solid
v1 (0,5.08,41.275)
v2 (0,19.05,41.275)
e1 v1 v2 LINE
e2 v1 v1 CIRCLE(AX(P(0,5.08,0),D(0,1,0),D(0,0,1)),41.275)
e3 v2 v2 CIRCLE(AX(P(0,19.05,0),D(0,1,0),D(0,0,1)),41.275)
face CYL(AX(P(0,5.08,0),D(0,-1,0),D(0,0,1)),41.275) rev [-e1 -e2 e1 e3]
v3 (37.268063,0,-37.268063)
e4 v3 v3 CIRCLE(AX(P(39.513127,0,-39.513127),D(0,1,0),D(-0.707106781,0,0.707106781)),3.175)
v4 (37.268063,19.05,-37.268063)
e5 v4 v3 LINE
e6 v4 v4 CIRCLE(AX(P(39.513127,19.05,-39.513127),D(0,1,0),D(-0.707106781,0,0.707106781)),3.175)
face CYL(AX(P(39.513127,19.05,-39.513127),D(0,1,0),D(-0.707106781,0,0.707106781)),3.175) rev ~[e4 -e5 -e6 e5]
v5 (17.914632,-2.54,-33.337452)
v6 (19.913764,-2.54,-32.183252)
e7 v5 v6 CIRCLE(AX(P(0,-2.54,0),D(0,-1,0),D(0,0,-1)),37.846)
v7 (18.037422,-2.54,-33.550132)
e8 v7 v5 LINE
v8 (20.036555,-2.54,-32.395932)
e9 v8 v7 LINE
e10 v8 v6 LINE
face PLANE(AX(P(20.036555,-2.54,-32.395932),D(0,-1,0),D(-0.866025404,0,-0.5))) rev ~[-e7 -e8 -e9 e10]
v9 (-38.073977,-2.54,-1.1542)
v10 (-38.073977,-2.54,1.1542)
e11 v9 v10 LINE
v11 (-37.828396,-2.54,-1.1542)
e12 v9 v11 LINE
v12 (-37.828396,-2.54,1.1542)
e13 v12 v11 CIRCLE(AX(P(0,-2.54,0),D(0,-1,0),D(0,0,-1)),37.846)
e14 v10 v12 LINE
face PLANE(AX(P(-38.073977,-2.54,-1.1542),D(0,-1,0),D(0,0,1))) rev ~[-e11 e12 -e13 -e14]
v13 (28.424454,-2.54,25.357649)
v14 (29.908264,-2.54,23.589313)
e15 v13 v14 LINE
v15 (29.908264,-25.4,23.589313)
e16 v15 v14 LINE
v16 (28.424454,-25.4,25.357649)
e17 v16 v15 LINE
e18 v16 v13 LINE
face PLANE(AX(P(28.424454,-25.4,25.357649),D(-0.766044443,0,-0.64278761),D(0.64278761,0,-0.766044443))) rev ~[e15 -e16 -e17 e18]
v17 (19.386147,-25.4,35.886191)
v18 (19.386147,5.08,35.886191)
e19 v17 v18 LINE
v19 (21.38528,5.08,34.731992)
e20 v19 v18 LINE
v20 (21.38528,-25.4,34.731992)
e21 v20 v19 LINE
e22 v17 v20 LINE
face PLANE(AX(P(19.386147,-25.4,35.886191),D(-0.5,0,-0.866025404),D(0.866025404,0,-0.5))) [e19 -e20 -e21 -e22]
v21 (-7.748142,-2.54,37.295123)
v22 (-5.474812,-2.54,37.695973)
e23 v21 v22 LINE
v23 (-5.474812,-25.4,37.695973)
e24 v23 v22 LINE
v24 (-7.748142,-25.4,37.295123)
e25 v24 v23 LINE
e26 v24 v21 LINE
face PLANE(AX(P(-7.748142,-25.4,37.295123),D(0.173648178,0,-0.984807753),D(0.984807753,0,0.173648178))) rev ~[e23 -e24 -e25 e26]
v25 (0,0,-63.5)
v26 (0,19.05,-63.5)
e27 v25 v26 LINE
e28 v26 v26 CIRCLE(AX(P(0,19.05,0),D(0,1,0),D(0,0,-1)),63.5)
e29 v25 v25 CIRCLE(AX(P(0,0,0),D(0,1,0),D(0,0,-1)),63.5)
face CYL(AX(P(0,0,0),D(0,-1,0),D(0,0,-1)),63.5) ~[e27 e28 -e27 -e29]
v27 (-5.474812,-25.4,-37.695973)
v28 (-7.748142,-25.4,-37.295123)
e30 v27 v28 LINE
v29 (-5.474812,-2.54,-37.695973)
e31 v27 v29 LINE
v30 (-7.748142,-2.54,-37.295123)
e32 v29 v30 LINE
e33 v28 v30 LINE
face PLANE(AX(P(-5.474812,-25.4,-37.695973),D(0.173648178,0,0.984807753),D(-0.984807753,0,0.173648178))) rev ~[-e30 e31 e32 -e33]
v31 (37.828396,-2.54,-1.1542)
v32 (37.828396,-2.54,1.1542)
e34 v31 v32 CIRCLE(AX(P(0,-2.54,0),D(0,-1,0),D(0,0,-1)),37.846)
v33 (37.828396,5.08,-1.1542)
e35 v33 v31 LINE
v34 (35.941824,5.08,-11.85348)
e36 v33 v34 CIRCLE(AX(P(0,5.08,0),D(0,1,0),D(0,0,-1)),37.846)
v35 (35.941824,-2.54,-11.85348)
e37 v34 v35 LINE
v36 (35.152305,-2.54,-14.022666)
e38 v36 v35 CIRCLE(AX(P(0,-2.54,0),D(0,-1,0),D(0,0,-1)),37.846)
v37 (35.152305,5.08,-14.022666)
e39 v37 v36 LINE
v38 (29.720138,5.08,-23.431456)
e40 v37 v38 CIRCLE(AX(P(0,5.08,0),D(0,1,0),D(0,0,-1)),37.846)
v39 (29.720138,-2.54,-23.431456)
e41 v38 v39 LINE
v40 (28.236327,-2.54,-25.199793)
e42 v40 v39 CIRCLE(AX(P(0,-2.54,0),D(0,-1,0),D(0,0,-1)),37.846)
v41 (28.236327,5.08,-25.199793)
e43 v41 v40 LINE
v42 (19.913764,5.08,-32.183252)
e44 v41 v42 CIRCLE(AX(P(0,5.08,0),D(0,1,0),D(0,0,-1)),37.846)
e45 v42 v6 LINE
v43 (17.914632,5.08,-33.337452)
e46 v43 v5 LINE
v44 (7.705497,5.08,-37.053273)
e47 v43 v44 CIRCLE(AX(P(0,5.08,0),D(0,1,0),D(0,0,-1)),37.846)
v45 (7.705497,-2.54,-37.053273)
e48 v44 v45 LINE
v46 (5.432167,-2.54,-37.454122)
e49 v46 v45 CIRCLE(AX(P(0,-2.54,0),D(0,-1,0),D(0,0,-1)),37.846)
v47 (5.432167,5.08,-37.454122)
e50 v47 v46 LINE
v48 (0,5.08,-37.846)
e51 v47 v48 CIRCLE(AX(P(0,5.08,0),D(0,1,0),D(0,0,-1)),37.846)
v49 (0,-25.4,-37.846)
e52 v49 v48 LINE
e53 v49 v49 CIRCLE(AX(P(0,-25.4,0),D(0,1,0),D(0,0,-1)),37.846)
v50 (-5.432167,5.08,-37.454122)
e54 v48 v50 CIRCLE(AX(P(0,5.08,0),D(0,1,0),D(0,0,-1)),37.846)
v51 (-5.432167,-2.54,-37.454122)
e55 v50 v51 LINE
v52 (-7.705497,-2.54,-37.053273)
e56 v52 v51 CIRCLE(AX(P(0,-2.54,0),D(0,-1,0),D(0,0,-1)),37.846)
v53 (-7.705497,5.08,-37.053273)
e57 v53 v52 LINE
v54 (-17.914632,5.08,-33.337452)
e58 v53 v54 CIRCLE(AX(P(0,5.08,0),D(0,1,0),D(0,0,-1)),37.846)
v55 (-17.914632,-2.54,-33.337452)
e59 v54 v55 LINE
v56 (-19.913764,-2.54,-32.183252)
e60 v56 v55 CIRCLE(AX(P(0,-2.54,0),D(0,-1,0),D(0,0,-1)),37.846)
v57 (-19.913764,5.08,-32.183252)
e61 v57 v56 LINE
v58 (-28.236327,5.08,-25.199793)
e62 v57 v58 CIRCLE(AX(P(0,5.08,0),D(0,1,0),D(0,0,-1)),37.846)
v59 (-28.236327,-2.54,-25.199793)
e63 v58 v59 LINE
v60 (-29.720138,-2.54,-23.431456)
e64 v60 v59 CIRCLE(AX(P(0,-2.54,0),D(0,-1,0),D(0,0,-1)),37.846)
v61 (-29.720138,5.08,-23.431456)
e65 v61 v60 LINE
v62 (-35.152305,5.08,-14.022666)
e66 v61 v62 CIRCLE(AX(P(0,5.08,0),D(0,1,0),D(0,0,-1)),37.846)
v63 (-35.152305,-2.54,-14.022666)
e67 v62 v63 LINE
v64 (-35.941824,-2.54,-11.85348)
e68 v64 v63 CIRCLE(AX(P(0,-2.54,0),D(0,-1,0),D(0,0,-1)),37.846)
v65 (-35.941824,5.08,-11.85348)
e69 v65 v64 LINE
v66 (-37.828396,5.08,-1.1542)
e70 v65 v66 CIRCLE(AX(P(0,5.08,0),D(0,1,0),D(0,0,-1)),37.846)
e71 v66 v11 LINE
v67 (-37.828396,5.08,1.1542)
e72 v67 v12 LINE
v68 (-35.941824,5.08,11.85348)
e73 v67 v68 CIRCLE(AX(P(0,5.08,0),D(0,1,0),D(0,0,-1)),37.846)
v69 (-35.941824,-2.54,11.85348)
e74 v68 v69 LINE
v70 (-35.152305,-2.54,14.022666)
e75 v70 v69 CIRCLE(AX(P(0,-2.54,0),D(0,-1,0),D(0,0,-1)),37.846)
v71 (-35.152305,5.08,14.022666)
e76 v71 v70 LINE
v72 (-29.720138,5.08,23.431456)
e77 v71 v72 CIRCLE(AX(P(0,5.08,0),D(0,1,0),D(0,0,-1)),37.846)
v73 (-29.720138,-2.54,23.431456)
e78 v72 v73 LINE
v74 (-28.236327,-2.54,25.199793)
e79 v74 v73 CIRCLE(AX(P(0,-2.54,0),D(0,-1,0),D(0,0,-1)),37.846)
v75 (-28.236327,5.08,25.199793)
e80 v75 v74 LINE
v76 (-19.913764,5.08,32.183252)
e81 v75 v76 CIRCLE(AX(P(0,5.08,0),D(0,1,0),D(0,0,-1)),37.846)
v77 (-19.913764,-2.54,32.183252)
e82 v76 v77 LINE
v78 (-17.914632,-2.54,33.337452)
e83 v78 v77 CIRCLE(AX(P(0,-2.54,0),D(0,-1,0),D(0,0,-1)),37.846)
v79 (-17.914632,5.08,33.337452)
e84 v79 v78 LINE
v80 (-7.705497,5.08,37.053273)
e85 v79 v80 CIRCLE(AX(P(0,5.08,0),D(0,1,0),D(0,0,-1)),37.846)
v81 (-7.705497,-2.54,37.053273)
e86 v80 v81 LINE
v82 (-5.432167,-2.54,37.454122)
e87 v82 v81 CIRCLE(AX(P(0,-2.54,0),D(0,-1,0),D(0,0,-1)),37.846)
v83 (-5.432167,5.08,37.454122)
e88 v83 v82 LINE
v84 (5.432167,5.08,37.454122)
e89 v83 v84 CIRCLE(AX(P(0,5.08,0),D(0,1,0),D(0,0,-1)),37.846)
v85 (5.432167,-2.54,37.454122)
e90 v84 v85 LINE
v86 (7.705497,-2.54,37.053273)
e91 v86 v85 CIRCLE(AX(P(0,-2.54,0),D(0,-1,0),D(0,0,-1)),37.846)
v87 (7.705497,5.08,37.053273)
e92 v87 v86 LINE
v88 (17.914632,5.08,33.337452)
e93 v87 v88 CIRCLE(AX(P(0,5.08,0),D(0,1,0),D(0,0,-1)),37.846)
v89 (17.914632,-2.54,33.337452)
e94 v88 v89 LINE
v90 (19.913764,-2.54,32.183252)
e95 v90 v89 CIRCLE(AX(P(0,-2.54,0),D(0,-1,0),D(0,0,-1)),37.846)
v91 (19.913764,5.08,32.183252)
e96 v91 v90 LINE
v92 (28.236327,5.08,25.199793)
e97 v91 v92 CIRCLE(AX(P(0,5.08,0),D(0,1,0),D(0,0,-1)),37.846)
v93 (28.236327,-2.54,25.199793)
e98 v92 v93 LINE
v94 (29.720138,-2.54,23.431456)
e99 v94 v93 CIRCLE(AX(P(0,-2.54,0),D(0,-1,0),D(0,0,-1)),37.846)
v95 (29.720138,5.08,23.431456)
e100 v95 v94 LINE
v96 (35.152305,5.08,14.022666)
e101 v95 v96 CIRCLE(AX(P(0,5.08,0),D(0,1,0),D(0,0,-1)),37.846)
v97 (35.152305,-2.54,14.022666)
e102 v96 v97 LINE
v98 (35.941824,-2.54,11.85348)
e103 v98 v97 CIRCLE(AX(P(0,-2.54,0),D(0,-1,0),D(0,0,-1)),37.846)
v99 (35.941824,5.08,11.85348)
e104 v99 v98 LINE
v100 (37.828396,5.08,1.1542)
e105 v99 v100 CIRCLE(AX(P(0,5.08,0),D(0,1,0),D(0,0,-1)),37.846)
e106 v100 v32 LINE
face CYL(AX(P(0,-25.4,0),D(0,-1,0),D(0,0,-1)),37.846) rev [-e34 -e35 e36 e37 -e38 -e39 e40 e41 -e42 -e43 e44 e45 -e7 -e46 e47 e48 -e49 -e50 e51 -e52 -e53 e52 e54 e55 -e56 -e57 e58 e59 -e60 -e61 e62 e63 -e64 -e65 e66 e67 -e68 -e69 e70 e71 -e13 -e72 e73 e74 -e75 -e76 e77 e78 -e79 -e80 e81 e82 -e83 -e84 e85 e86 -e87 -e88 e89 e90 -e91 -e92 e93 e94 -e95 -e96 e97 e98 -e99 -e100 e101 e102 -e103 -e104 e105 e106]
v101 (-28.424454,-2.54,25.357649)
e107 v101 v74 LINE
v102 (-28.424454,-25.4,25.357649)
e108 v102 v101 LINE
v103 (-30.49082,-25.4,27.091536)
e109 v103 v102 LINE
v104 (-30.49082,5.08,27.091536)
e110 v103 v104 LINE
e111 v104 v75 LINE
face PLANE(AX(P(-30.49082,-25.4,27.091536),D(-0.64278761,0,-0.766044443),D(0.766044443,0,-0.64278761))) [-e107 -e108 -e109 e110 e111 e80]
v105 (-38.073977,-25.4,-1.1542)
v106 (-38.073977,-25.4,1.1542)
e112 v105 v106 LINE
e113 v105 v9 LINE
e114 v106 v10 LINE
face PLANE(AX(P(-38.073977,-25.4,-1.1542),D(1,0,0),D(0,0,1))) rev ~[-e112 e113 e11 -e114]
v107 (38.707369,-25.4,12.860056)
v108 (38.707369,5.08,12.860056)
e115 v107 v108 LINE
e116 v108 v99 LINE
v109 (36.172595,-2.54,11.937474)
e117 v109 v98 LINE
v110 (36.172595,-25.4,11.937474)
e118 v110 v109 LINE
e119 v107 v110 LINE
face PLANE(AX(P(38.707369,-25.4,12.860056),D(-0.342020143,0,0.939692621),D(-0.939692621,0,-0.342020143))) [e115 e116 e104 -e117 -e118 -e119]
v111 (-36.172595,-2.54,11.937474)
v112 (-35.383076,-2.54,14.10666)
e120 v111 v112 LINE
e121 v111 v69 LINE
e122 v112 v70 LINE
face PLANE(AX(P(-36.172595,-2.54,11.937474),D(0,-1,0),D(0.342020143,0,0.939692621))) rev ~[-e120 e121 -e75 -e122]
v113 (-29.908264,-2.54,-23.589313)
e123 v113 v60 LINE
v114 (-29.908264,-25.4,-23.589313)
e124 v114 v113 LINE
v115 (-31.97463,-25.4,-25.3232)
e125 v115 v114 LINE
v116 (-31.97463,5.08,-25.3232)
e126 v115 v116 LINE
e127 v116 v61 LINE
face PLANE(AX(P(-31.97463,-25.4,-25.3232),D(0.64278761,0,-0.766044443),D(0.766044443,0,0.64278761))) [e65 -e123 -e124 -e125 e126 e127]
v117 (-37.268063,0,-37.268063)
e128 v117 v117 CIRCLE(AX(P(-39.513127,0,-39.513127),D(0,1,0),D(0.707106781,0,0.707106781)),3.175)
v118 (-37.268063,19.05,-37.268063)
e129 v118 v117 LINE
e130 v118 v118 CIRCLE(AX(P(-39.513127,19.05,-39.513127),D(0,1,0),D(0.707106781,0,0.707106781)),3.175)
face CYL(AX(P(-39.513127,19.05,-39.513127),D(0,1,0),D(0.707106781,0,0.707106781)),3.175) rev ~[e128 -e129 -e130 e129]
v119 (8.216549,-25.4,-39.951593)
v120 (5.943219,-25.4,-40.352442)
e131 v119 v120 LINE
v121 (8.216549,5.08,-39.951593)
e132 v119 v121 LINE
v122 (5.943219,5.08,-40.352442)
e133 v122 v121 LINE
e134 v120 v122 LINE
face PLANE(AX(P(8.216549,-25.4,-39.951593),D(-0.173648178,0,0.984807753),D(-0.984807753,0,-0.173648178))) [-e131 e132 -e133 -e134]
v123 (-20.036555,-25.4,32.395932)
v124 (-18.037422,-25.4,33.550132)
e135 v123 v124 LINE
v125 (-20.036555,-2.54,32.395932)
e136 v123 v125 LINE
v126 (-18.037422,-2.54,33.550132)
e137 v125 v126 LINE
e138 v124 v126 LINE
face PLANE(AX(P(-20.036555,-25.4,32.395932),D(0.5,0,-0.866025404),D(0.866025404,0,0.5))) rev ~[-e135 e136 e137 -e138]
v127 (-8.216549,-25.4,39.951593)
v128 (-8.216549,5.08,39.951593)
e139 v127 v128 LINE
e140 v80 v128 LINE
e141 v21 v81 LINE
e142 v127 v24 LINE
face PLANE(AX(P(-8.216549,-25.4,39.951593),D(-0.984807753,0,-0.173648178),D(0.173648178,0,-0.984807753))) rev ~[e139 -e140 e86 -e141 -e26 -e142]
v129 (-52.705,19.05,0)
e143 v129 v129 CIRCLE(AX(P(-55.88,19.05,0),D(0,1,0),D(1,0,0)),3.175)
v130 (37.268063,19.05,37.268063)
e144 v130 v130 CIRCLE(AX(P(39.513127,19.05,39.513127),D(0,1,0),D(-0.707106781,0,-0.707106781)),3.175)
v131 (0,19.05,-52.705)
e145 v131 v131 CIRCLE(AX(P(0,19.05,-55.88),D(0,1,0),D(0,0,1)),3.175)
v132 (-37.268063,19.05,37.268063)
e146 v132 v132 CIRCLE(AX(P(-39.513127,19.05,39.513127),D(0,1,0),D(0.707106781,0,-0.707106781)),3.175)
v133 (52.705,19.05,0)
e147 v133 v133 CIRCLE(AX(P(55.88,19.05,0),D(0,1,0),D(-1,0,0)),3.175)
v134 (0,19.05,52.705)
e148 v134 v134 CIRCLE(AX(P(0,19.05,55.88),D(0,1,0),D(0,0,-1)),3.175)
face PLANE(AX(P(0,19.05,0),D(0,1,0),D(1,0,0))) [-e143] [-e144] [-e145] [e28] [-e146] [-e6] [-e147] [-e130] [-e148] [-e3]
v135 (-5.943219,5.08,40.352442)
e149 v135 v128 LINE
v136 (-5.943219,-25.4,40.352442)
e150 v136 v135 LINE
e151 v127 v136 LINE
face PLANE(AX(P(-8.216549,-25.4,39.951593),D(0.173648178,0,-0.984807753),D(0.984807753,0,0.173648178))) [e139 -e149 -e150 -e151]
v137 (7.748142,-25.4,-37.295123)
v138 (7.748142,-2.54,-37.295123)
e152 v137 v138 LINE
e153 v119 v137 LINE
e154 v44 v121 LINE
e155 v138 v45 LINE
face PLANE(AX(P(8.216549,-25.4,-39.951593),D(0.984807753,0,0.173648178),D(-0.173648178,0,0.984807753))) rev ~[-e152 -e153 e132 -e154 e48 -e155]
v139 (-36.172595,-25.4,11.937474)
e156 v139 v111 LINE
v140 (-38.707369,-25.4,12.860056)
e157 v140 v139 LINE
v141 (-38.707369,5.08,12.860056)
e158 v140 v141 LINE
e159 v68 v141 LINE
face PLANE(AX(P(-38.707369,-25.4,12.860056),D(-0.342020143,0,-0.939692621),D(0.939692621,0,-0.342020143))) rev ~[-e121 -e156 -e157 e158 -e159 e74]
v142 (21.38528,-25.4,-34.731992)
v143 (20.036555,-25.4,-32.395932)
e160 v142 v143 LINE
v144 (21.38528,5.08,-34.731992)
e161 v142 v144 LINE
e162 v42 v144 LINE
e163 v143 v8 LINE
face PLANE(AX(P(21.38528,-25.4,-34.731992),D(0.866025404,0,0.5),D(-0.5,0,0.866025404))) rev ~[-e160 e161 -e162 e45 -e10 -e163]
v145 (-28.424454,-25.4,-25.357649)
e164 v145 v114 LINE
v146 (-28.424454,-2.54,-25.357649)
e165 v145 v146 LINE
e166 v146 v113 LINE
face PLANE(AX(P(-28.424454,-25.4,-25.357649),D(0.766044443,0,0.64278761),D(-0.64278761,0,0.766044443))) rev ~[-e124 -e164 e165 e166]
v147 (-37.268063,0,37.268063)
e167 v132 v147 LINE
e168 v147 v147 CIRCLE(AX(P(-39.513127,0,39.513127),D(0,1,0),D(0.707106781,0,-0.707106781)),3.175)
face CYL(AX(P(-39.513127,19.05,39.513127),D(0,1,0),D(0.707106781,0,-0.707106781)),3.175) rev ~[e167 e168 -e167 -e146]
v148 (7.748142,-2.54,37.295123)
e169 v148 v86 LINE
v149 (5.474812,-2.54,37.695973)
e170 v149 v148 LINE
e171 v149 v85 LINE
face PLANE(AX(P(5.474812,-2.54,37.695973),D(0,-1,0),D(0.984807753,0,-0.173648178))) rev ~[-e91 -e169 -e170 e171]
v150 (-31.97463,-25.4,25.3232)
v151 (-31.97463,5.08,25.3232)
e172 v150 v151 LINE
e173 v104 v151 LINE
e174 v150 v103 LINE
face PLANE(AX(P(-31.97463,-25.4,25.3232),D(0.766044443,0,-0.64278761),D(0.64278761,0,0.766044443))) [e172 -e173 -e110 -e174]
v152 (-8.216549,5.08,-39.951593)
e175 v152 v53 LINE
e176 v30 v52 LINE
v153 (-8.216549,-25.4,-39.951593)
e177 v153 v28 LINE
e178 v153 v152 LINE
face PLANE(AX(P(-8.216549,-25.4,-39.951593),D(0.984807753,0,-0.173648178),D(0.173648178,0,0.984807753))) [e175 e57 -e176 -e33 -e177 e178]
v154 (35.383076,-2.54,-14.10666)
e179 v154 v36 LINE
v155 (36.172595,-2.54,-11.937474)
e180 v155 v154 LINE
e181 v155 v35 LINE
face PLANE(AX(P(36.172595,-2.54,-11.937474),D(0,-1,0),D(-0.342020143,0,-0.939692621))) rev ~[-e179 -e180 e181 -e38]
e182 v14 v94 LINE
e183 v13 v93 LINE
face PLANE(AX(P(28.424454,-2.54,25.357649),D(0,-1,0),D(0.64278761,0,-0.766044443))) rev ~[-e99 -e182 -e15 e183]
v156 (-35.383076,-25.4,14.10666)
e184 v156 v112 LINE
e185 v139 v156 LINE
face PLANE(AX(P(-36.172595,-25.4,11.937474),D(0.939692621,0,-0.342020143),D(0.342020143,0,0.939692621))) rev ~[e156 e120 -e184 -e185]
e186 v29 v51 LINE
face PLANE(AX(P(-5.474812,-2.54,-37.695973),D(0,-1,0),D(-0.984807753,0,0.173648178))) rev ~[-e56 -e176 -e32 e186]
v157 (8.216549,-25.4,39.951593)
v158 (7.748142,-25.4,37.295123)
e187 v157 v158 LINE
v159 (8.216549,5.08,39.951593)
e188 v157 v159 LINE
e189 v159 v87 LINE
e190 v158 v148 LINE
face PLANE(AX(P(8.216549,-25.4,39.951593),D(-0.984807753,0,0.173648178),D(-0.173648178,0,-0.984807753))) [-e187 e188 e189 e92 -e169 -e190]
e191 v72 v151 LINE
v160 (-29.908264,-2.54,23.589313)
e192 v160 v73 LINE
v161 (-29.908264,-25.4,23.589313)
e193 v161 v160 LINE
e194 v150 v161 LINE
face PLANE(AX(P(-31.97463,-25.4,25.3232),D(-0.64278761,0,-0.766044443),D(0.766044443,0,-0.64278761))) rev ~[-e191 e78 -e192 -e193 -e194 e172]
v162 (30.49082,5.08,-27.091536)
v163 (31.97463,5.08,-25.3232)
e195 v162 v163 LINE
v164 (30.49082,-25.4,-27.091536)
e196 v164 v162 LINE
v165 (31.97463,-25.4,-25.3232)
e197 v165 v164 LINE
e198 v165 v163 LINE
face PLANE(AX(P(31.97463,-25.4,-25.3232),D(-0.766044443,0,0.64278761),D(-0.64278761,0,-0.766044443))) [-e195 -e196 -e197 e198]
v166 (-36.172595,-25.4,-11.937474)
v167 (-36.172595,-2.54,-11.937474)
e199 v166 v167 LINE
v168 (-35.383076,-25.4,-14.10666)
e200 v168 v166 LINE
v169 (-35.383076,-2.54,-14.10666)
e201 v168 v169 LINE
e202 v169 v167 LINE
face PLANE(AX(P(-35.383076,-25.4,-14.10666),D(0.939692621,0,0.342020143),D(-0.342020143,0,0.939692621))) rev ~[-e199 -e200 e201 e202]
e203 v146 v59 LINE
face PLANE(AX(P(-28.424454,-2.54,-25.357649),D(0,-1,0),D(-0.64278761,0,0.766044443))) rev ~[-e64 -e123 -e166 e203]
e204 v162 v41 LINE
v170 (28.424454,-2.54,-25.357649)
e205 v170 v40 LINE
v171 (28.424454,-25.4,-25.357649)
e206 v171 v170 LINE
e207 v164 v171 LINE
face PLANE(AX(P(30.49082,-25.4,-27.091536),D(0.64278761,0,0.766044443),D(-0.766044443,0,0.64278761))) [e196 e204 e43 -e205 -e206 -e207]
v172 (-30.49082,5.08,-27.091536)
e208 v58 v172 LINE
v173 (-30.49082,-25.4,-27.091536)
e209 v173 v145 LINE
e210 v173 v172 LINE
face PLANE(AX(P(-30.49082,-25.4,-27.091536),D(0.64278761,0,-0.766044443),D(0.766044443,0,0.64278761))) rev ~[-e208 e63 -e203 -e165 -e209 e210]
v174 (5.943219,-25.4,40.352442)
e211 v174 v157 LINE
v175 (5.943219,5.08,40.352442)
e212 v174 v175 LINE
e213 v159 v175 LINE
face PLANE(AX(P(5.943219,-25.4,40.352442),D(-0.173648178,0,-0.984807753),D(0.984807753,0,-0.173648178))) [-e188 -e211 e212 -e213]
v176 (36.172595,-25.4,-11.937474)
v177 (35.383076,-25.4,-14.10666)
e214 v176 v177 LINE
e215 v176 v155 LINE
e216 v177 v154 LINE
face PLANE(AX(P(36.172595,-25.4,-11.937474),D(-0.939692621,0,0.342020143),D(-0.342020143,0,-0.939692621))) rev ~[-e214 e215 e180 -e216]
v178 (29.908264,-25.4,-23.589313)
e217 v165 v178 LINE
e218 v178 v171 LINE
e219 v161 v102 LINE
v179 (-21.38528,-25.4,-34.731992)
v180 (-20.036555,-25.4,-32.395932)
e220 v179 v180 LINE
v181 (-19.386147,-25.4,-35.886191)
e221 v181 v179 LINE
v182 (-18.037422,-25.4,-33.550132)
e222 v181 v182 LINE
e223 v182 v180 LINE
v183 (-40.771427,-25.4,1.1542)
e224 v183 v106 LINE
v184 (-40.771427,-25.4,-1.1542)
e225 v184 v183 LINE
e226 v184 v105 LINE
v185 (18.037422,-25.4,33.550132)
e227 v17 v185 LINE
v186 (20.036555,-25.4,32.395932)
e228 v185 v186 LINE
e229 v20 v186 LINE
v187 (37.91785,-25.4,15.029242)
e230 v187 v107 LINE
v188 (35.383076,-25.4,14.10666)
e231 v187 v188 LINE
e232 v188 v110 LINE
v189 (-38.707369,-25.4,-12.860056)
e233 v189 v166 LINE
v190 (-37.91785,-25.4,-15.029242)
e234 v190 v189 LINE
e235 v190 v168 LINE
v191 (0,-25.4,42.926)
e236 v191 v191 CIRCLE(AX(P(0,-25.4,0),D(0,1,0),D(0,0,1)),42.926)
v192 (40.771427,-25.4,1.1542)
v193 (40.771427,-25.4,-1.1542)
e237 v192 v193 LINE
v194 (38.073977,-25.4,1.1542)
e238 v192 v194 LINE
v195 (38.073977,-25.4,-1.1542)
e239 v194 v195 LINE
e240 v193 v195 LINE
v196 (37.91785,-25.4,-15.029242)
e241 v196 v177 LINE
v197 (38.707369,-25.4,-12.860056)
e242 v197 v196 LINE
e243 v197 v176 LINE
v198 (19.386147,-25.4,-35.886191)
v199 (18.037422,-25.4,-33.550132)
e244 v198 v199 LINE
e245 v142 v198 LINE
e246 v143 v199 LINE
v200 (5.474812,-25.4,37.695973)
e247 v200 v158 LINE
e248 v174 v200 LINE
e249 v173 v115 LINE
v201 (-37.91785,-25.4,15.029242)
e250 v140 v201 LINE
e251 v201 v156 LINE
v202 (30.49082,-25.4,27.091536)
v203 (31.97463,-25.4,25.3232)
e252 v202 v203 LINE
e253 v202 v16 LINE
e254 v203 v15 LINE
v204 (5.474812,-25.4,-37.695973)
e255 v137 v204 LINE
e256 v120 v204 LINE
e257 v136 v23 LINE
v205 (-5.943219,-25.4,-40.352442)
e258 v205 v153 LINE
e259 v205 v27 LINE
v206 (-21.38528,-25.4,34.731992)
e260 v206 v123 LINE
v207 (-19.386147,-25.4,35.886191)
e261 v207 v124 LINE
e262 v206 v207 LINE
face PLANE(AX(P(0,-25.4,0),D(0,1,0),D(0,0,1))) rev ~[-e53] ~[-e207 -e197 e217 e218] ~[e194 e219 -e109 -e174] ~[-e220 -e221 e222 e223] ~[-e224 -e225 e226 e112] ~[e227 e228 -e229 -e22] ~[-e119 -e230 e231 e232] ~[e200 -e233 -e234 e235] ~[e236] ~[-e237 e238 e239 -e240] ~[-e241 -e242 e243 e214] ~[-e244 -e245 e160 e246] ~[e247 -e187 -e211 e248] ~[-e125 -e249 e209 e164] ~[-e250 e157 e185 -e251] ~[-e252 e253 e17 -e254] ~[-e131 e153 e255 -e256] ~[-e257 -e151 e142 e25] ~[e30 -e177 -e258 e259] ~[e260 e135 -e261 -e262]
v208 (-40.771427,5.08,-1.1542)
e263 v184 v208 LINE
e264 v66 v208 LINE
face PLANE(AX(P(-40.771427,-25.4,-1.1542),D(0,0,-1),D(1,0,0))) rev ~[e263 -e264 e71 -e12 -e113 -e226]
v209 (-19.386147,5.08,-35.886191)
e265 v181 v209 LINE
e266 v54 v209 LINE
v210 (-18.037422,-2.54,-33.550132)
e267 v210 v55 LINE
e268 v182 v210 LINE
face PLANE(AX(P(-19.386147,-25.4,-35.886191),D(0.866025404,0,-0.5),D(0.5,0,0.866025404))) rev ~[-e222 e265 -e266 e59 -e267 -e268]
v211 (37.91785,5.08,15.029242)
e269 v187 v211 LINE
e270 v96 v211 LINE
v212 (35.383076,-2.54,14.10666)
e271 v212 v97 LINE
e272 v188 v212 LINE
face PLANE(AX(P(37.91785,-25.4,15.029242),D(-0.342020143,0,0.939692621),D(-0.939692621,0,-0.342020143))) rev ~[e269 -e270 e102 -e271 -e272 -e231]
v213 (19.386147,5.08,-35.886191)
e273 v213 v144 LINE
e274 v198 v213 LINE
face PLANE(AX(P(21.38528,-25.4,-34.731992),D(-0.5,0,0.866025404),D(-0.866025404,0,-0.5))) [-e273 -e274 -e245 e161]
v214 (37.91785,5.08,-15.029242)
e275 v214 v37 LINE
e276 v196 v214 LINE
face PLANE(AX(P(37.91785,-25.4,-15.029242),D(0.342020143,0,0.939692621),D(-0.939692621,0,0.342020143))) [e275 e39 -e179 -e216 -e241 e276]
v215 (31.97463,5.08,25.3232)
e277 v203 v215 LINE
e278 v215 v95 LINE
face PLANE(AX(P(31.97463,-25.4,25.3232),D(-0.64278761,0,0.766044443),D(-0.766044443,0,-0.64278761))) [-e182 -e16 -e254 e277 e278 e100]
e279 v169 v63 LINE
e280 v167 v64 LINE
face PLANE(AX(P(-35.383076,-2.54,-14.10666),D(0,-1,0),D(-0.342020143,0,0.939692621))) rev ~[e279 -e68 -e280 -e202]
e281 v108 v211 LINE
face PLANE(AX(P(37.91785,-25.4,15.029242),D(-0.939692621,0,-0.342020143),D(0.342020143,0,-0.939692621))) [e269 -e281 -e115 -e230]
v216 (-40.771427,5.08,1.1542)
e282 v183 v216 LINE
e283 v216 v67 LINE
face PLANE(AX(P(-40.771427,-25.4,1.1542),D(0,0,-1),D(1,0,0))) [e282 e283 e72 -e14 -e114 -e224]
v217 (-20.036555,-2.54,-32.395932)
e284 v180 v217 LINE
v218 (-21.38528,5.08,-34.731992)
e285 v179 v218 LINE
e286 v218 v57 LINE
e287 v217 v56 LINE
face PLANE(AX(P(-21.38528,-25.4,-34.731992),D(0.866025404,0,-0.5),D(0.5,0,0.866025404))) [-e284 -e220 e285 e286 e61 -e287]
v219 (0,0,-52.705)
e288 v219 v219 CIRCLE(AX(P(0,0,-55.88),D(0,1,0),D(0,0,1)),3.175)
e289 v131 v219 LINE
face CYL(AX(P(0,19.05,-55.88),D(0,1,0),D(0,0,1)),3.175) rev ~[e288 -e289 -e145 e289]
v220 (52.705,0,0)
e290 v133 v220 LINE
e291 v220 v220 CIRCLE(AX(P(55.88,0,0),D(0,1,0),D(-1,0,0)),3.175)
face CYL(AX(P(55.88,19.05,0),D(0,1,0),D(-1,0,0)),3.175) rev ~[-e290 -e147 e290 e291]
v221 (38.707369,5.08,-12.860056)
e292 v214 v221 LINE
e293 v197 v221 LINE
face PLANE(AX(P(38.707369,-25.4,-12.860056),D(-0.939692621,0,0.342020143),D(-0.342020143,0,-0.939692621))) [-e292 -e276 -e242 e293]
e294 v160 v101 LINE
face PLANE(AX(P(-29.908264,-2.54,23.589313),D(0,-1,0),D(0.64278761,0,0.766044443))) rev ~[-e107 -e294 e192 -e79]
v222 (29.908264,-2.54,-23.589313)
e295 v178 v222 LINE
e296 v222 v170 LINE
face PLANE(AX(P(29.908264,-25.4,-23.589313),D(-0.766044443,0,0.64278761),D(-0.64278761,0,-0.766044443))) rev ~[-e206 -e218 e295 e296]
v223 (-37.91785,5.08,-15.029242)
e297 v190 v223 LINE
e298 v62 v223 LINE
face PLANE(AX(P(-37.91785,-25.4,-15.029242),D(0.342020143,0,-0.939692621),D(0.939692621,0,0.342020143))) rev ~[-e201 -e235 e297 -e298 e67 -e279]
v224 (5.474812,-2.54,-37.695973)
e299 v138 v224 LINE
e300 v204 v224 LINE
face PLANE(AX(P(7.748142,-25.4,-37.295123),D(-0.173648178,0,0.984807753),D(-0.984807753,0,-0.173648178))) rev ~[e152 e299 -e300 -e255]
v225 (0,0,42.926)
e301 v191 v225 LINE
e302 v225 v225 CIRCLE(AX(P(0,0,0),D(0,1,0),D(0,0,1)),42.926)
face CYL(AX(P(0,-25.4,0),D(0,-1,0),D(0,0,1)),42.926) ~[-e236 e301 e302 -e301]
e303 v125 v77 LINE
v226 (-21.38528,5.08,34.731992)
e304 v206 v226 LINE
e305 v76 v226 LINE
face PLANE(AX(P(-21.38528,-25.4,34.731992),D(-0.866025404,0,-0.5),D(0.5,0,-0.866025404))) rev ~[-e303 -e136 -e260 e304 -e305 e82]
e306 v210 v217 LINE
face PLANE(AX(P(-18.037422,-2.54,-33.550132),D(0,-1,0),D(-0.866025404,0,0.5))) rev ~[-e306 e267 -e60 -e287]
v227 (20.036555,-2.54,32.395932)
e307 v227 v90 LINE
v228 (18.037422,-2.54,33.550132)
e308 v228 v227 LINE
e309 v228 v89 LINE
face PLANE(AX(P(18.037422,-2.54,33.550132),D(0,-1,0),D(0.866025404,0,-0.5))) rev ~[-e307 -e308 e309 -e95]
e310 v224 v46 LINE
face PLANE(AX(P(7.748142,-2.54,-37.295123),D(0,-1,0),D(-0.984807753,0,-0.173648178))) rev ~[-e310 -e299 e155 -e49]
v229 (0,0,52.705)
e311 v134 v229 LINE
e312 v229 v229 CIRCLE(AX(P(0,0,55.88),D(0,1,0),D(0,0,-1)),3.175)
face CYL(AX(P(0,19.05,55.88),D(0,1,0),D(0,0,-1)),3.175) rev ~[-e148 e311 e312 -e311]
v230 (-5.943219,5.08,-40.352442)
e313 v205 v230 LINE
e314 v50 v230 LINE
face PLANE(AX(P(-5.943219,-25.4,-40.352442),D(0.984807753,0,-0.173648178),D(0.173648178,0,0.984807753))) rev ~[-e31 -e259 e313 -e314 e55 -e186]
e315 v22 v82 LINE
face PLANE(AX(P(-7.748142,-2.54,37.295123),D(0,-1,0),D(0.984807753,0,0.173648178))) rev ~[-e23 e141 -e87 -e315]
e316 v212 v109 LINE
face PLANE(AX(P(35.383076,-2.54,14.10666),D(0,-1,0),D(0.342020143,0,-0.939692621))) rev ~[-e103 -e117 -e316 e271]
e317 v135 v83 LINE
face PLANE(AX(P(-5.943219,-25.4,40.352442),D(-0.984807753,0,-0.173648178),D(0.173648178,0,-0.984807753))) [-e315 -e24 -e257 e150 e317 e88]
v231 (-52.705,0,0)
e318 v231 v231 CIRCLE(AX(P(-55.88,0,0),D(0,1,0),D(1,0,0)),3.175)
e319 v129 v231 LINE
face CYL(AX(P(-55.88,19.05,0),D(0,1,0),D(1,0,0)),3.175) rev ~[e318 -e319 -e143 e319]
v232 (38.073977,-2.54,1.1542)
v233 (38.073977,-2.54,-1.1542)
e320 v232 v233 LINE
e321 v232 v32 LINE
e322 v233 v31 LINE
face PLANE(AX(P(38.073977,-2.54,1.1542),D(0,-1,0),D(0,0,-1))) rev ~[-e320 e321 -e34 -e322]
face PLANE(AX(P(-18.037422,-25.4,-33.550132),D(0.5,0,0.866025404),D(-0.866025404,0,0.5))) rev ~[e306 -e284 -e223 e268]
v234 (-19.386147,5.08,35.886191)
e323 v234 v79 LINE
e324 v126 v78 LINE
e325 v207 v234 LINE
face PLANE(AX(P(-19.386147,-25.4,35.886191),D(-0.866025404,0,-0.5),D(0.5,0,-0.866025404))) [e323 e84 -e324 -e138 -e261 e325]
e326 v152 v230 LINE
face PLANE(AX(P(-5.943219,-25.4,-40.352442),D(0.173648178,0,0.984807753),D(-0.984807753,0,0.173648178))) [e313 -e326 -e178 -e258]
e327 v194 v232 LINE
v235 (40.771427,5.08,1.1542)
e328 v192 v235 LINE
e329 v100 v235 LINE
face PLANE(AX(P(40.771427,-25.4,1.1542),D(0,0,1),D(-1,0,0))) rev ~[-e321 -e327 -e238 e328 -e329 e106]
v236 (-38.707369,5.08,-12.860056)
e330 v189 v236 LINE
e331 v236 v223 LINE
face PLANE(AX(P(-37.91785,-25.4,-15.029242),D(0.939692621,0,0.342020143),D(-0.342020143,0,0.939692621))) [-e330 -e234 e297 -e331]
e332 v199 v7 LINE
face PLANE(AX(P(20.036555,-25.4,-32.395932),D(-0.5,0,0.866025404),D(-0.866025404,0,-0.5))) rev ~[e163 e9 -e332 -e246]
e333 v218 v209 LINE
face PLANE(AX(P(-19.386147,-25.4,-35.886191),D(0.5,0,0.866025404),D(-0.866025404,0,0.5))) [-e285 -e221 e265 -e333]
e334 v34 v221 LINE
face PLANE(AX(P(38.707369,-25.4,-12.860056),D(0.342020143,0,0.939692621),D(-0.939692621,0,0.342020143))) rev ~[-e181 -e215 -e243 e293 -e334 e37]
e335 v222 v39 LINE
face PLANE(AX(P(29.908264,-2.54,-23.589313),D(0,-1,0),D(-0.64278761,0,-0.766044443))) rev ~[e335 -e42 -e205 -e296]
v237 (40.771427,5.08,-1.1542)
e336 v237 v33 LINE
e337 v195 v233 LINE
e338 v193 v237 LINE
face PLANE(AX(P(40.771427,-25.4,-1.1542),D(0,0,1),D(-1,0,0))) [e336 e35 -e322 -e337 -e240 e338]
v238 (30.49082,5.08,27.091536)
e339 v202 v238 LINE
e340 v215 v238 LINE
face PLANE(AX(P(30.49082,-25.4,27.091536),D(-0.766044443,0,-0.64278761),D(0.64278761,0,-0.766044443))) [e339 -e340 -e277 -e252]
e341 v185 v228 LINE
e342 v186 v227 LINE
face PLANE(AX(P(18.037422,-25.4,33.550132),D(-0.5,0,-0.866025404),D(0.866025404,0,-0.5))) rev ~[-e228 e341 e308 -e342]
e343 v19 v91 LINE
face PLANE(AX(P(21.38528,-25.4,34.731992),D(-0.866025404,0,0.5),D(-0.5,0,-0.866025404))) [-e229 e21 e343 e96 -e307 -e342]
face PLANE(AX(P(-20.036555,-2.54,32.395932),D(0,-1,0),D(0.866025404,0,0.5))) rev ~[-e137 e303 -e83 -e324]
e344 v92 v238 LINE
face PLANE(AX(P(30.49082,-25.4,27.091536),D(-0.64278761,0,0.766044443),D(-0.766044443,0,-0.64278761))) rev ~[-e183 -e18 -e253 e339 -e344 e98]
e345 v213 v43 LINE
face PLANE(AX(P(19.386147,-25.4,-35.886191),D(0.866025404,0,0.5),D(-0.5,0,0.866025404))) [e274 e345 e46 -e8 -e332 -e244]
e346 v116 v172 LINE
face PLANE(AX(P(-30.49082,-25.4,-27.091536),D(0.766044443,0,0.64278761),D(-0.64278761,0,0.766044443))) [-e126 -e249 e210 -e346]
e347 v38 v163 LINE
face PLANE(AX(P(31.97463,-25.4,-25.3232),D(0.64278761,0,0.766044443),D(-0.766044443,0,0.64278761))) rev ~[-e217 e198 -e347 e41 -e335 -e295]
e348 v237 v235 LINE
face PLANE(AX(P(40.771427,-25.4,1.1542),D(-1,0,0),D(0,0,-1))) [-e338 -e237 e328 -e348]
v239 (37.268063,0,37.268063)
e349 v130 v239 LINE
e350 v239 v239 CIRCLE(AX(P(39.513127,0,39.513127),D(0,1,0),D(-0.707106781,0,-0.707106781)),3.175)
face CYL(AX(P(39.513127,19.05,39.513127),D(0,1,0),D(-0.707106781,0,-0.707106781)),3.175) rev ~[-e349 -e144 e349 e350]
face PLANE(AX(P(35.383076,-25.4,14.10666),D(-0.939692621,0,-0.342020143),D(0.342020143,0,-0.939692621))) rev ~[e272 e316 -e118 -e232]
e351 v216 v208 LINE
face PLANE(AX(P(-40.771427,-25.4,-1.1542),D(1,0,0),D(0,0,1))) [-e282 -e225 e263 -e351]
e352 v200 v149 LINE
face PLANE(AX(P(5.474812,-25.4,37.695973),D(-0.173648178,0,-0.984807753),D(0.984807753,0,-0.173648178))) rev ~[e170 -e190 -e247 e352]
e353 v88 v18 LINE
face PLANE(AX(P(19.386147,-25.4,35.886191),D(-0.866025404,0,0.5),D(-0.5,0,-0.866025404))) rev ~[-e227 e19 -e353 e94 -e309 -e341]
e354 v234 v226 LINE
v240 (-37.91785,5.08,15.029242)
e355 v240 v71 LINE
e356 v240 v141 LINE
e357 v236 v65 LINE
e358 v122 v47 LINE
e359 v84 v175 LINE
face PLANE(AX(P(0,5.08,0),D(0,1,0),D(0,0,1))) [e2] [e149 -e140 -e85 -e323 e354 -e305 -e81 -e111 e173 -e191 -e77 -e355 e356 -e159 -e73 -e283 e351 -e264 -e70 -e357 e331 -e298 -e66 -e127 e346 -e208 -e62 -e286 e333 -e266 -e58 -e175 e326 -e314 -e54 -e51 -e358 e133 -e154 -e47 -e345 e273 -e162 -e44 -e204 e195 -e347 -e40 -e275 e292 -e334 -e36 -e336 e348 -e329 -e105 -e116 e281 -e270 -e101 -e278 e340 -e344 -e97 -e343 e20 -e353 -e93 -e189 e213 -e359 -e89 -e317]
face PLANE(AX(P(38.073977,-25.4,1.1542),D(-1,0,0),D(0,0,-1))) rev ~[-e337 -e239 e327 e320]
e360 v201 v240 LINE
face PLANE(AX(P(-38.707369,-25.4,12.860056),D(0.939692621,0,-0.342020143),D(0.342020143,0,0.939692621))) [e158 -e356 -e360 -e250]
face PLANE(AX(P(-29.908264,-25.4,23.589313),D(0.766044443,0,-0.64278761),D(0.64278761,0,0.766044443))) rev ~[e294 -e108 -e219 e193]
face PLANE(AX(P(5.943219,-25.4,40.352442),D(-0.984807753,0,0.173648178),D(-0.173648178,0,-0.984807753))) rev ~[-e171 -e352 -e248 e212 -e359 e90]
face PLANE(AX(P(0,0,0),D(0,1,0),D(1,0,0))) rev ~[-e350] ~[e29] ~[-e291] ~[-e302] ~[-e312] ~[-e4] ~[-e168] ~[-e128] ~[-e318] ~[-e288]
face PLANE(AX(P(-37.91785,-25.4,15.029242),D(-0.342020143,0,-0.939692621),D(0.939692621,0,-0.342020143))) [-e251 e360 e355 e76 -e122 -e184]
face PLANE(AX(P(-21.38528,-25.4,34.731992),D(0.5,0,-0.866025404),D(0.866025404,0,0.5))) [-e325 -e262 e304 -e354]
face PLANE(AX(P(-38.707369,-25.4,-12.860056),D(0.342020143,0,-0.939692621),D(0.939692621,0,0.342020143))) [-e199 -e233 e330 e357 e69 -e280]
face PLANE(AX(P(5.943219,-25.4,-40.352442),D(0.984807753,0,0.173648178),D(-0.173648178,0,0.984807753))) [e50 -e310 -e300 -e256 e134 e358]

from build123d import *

# Parameters (mm, degrees)
SKETCH1_R           = 63.5
SKETCH1_R_2         = 37.846
BOSS_EXTRUDE1_DEPTH = 19.05
SKETCH2_R           = 3.175
CUT_EXTRUDE1_DEPTH  = 92.800885072
CIRPATTERN1_COUNT   = 8
BOSS_EXTRUDE2_START = -25.4
SKETCH1_3_R         = 42.926
SKETCH1_3_R_2       = 37.846
BOSS_EXTRUDE2_DEPTH = 25.4
CUT_EXTRUDE2_START  = -13.97
SKETCH3_R           = 41.275
SKETCH3_R_2         = 37.846
CUT_EXTRUDE2_DEPTH  = 13.97
SKETCH4_W           = 2.697449546
SKETCH4_H           = 2.30839954
CUT_EXTRUDE3_DEPTH  = 101.201309872
SKETCH5_W           = 2.30839954
SKETCH5_H           = 7.62
CUT_EXTRUDE4_DEPTH  = 2.54
CIRPATTERN2_COUNT   = 18


with BuildPart() as part:
    # Sketch1 → Boss-Extrude1 (new body)
    with BuildSketch(Plane(origin=(0, 0, 0), x_dir=(1, 0, 0), z_dir=(0, 1, 0))):
        Circle(SKETCH1_R)
        Circle(SKETCH1_R_2, mode=Mode.SUBTRACT)
    extrude(amount=BOSS_EXTRUDE1_DEPTH)

    # Sketch2 → Cut-Extrude1 (cut, through all)
    with BuildSketch(Plane(origin=(0, 19.05, 0), x_dir=(1, 0, 0), z_dir=(0, 1, 0))):
        with Locations((0, 55.88)):
            Circle(SKETCH2_R)
    cut_extrude1 = extrude(amount=-CUT_EXTRUDE1_DEPTH, mode=Mode.SUBTRACT)

    # CirPattern1: Cut-Extrude1 ×8 about axis
    cirpattern1_axis = Axis((0, 19.05, 0), (0, -1, 0))
    for i in range(1, CIRPATTERN1_COUNT):
        add(cut_extrude1.rotate(cirpattern1_axis, i * 360 / CIRPATTERN1_COUNT), mode=Mode.SUBTRACT)

    # Sketch1<3> → Boss-Extrude2 (add)
    with BuildSketch(Plane(origin=(0, 0, 0), x_dir=(1, 0, 0), z_dir=(0, 1, 0)).offset(BOSS_EXTRUDE2_START)):
        Circle(SKETCH1_3_R)
        Circle(SKETCH1_3_R_2, mode=Mode.SUBTRACT)
    extrude(amount=BOSS_EXTRUDE2_DEPTH)

    # Sketch3 → Cut-Extrude2 (cut)
    with BuildSketch(Plane(origin=(0, 19.05, 0), x_dir=(1, 0, 0), z_dir=(0, 1, 0)).offset(CUT_EXTRUDE2_START)):
        Circle(SKETCH3_R)
        Circle(SKETCH3_R_2, mode=Mode.SUBTRACT)
    extrude(amount=CUT_EXTRUDE2_DEPTH, mode=Mode.SUBTRACT)

    # Sketch4 → Cut-Extrude3 (cut, through all)
    with BuildSketch(Plane.XZ.offset(25.4)):
        with Locations((-39.422702208, 0)):
            Rectangle(SKETCH4_W, SKETCH4_H)
    cut_extrude3 = extrude(amount=-CUT_EXTRUDE3_DEPTH, mode=Mode.SUBTRACT)

    # Sketch5 → Cut-Extrude4 (cut)
    with BuildSketch(Plane.ZY.offset(38.073977435)):
        with Locations((0, 1.27)):
            Rectangle(SKETCH5_W, SKETCH5_H)
    cut_extrude4 = extrude(amount=-CUT_EXTRUDE4_DEPTH, mode=Mode.SUBTRACT)

    # CirPattern2: Cut-Extrude3, Cut-Extrude4 ×18 about axis
    cirpattern2_axis = Axis((0, 19.05, 0), (0, -1, 0))
    add([cut_extrude3.rotate(cirpattern2_axis, i * 360 / CIRPATTERN2_COUNT) for i in range(1, CIRPATTERN2_COUNT)], mode=Mode.SUBTRACT)
    add([cut_extrude4.rotate(cirpattern2_axis, i * 360 / CIRPATTERN2_COUNT) for i in range(1, CIRPATTERN2_COUNT)], mode=Mode.SUBTRACT)


solid = part.part
